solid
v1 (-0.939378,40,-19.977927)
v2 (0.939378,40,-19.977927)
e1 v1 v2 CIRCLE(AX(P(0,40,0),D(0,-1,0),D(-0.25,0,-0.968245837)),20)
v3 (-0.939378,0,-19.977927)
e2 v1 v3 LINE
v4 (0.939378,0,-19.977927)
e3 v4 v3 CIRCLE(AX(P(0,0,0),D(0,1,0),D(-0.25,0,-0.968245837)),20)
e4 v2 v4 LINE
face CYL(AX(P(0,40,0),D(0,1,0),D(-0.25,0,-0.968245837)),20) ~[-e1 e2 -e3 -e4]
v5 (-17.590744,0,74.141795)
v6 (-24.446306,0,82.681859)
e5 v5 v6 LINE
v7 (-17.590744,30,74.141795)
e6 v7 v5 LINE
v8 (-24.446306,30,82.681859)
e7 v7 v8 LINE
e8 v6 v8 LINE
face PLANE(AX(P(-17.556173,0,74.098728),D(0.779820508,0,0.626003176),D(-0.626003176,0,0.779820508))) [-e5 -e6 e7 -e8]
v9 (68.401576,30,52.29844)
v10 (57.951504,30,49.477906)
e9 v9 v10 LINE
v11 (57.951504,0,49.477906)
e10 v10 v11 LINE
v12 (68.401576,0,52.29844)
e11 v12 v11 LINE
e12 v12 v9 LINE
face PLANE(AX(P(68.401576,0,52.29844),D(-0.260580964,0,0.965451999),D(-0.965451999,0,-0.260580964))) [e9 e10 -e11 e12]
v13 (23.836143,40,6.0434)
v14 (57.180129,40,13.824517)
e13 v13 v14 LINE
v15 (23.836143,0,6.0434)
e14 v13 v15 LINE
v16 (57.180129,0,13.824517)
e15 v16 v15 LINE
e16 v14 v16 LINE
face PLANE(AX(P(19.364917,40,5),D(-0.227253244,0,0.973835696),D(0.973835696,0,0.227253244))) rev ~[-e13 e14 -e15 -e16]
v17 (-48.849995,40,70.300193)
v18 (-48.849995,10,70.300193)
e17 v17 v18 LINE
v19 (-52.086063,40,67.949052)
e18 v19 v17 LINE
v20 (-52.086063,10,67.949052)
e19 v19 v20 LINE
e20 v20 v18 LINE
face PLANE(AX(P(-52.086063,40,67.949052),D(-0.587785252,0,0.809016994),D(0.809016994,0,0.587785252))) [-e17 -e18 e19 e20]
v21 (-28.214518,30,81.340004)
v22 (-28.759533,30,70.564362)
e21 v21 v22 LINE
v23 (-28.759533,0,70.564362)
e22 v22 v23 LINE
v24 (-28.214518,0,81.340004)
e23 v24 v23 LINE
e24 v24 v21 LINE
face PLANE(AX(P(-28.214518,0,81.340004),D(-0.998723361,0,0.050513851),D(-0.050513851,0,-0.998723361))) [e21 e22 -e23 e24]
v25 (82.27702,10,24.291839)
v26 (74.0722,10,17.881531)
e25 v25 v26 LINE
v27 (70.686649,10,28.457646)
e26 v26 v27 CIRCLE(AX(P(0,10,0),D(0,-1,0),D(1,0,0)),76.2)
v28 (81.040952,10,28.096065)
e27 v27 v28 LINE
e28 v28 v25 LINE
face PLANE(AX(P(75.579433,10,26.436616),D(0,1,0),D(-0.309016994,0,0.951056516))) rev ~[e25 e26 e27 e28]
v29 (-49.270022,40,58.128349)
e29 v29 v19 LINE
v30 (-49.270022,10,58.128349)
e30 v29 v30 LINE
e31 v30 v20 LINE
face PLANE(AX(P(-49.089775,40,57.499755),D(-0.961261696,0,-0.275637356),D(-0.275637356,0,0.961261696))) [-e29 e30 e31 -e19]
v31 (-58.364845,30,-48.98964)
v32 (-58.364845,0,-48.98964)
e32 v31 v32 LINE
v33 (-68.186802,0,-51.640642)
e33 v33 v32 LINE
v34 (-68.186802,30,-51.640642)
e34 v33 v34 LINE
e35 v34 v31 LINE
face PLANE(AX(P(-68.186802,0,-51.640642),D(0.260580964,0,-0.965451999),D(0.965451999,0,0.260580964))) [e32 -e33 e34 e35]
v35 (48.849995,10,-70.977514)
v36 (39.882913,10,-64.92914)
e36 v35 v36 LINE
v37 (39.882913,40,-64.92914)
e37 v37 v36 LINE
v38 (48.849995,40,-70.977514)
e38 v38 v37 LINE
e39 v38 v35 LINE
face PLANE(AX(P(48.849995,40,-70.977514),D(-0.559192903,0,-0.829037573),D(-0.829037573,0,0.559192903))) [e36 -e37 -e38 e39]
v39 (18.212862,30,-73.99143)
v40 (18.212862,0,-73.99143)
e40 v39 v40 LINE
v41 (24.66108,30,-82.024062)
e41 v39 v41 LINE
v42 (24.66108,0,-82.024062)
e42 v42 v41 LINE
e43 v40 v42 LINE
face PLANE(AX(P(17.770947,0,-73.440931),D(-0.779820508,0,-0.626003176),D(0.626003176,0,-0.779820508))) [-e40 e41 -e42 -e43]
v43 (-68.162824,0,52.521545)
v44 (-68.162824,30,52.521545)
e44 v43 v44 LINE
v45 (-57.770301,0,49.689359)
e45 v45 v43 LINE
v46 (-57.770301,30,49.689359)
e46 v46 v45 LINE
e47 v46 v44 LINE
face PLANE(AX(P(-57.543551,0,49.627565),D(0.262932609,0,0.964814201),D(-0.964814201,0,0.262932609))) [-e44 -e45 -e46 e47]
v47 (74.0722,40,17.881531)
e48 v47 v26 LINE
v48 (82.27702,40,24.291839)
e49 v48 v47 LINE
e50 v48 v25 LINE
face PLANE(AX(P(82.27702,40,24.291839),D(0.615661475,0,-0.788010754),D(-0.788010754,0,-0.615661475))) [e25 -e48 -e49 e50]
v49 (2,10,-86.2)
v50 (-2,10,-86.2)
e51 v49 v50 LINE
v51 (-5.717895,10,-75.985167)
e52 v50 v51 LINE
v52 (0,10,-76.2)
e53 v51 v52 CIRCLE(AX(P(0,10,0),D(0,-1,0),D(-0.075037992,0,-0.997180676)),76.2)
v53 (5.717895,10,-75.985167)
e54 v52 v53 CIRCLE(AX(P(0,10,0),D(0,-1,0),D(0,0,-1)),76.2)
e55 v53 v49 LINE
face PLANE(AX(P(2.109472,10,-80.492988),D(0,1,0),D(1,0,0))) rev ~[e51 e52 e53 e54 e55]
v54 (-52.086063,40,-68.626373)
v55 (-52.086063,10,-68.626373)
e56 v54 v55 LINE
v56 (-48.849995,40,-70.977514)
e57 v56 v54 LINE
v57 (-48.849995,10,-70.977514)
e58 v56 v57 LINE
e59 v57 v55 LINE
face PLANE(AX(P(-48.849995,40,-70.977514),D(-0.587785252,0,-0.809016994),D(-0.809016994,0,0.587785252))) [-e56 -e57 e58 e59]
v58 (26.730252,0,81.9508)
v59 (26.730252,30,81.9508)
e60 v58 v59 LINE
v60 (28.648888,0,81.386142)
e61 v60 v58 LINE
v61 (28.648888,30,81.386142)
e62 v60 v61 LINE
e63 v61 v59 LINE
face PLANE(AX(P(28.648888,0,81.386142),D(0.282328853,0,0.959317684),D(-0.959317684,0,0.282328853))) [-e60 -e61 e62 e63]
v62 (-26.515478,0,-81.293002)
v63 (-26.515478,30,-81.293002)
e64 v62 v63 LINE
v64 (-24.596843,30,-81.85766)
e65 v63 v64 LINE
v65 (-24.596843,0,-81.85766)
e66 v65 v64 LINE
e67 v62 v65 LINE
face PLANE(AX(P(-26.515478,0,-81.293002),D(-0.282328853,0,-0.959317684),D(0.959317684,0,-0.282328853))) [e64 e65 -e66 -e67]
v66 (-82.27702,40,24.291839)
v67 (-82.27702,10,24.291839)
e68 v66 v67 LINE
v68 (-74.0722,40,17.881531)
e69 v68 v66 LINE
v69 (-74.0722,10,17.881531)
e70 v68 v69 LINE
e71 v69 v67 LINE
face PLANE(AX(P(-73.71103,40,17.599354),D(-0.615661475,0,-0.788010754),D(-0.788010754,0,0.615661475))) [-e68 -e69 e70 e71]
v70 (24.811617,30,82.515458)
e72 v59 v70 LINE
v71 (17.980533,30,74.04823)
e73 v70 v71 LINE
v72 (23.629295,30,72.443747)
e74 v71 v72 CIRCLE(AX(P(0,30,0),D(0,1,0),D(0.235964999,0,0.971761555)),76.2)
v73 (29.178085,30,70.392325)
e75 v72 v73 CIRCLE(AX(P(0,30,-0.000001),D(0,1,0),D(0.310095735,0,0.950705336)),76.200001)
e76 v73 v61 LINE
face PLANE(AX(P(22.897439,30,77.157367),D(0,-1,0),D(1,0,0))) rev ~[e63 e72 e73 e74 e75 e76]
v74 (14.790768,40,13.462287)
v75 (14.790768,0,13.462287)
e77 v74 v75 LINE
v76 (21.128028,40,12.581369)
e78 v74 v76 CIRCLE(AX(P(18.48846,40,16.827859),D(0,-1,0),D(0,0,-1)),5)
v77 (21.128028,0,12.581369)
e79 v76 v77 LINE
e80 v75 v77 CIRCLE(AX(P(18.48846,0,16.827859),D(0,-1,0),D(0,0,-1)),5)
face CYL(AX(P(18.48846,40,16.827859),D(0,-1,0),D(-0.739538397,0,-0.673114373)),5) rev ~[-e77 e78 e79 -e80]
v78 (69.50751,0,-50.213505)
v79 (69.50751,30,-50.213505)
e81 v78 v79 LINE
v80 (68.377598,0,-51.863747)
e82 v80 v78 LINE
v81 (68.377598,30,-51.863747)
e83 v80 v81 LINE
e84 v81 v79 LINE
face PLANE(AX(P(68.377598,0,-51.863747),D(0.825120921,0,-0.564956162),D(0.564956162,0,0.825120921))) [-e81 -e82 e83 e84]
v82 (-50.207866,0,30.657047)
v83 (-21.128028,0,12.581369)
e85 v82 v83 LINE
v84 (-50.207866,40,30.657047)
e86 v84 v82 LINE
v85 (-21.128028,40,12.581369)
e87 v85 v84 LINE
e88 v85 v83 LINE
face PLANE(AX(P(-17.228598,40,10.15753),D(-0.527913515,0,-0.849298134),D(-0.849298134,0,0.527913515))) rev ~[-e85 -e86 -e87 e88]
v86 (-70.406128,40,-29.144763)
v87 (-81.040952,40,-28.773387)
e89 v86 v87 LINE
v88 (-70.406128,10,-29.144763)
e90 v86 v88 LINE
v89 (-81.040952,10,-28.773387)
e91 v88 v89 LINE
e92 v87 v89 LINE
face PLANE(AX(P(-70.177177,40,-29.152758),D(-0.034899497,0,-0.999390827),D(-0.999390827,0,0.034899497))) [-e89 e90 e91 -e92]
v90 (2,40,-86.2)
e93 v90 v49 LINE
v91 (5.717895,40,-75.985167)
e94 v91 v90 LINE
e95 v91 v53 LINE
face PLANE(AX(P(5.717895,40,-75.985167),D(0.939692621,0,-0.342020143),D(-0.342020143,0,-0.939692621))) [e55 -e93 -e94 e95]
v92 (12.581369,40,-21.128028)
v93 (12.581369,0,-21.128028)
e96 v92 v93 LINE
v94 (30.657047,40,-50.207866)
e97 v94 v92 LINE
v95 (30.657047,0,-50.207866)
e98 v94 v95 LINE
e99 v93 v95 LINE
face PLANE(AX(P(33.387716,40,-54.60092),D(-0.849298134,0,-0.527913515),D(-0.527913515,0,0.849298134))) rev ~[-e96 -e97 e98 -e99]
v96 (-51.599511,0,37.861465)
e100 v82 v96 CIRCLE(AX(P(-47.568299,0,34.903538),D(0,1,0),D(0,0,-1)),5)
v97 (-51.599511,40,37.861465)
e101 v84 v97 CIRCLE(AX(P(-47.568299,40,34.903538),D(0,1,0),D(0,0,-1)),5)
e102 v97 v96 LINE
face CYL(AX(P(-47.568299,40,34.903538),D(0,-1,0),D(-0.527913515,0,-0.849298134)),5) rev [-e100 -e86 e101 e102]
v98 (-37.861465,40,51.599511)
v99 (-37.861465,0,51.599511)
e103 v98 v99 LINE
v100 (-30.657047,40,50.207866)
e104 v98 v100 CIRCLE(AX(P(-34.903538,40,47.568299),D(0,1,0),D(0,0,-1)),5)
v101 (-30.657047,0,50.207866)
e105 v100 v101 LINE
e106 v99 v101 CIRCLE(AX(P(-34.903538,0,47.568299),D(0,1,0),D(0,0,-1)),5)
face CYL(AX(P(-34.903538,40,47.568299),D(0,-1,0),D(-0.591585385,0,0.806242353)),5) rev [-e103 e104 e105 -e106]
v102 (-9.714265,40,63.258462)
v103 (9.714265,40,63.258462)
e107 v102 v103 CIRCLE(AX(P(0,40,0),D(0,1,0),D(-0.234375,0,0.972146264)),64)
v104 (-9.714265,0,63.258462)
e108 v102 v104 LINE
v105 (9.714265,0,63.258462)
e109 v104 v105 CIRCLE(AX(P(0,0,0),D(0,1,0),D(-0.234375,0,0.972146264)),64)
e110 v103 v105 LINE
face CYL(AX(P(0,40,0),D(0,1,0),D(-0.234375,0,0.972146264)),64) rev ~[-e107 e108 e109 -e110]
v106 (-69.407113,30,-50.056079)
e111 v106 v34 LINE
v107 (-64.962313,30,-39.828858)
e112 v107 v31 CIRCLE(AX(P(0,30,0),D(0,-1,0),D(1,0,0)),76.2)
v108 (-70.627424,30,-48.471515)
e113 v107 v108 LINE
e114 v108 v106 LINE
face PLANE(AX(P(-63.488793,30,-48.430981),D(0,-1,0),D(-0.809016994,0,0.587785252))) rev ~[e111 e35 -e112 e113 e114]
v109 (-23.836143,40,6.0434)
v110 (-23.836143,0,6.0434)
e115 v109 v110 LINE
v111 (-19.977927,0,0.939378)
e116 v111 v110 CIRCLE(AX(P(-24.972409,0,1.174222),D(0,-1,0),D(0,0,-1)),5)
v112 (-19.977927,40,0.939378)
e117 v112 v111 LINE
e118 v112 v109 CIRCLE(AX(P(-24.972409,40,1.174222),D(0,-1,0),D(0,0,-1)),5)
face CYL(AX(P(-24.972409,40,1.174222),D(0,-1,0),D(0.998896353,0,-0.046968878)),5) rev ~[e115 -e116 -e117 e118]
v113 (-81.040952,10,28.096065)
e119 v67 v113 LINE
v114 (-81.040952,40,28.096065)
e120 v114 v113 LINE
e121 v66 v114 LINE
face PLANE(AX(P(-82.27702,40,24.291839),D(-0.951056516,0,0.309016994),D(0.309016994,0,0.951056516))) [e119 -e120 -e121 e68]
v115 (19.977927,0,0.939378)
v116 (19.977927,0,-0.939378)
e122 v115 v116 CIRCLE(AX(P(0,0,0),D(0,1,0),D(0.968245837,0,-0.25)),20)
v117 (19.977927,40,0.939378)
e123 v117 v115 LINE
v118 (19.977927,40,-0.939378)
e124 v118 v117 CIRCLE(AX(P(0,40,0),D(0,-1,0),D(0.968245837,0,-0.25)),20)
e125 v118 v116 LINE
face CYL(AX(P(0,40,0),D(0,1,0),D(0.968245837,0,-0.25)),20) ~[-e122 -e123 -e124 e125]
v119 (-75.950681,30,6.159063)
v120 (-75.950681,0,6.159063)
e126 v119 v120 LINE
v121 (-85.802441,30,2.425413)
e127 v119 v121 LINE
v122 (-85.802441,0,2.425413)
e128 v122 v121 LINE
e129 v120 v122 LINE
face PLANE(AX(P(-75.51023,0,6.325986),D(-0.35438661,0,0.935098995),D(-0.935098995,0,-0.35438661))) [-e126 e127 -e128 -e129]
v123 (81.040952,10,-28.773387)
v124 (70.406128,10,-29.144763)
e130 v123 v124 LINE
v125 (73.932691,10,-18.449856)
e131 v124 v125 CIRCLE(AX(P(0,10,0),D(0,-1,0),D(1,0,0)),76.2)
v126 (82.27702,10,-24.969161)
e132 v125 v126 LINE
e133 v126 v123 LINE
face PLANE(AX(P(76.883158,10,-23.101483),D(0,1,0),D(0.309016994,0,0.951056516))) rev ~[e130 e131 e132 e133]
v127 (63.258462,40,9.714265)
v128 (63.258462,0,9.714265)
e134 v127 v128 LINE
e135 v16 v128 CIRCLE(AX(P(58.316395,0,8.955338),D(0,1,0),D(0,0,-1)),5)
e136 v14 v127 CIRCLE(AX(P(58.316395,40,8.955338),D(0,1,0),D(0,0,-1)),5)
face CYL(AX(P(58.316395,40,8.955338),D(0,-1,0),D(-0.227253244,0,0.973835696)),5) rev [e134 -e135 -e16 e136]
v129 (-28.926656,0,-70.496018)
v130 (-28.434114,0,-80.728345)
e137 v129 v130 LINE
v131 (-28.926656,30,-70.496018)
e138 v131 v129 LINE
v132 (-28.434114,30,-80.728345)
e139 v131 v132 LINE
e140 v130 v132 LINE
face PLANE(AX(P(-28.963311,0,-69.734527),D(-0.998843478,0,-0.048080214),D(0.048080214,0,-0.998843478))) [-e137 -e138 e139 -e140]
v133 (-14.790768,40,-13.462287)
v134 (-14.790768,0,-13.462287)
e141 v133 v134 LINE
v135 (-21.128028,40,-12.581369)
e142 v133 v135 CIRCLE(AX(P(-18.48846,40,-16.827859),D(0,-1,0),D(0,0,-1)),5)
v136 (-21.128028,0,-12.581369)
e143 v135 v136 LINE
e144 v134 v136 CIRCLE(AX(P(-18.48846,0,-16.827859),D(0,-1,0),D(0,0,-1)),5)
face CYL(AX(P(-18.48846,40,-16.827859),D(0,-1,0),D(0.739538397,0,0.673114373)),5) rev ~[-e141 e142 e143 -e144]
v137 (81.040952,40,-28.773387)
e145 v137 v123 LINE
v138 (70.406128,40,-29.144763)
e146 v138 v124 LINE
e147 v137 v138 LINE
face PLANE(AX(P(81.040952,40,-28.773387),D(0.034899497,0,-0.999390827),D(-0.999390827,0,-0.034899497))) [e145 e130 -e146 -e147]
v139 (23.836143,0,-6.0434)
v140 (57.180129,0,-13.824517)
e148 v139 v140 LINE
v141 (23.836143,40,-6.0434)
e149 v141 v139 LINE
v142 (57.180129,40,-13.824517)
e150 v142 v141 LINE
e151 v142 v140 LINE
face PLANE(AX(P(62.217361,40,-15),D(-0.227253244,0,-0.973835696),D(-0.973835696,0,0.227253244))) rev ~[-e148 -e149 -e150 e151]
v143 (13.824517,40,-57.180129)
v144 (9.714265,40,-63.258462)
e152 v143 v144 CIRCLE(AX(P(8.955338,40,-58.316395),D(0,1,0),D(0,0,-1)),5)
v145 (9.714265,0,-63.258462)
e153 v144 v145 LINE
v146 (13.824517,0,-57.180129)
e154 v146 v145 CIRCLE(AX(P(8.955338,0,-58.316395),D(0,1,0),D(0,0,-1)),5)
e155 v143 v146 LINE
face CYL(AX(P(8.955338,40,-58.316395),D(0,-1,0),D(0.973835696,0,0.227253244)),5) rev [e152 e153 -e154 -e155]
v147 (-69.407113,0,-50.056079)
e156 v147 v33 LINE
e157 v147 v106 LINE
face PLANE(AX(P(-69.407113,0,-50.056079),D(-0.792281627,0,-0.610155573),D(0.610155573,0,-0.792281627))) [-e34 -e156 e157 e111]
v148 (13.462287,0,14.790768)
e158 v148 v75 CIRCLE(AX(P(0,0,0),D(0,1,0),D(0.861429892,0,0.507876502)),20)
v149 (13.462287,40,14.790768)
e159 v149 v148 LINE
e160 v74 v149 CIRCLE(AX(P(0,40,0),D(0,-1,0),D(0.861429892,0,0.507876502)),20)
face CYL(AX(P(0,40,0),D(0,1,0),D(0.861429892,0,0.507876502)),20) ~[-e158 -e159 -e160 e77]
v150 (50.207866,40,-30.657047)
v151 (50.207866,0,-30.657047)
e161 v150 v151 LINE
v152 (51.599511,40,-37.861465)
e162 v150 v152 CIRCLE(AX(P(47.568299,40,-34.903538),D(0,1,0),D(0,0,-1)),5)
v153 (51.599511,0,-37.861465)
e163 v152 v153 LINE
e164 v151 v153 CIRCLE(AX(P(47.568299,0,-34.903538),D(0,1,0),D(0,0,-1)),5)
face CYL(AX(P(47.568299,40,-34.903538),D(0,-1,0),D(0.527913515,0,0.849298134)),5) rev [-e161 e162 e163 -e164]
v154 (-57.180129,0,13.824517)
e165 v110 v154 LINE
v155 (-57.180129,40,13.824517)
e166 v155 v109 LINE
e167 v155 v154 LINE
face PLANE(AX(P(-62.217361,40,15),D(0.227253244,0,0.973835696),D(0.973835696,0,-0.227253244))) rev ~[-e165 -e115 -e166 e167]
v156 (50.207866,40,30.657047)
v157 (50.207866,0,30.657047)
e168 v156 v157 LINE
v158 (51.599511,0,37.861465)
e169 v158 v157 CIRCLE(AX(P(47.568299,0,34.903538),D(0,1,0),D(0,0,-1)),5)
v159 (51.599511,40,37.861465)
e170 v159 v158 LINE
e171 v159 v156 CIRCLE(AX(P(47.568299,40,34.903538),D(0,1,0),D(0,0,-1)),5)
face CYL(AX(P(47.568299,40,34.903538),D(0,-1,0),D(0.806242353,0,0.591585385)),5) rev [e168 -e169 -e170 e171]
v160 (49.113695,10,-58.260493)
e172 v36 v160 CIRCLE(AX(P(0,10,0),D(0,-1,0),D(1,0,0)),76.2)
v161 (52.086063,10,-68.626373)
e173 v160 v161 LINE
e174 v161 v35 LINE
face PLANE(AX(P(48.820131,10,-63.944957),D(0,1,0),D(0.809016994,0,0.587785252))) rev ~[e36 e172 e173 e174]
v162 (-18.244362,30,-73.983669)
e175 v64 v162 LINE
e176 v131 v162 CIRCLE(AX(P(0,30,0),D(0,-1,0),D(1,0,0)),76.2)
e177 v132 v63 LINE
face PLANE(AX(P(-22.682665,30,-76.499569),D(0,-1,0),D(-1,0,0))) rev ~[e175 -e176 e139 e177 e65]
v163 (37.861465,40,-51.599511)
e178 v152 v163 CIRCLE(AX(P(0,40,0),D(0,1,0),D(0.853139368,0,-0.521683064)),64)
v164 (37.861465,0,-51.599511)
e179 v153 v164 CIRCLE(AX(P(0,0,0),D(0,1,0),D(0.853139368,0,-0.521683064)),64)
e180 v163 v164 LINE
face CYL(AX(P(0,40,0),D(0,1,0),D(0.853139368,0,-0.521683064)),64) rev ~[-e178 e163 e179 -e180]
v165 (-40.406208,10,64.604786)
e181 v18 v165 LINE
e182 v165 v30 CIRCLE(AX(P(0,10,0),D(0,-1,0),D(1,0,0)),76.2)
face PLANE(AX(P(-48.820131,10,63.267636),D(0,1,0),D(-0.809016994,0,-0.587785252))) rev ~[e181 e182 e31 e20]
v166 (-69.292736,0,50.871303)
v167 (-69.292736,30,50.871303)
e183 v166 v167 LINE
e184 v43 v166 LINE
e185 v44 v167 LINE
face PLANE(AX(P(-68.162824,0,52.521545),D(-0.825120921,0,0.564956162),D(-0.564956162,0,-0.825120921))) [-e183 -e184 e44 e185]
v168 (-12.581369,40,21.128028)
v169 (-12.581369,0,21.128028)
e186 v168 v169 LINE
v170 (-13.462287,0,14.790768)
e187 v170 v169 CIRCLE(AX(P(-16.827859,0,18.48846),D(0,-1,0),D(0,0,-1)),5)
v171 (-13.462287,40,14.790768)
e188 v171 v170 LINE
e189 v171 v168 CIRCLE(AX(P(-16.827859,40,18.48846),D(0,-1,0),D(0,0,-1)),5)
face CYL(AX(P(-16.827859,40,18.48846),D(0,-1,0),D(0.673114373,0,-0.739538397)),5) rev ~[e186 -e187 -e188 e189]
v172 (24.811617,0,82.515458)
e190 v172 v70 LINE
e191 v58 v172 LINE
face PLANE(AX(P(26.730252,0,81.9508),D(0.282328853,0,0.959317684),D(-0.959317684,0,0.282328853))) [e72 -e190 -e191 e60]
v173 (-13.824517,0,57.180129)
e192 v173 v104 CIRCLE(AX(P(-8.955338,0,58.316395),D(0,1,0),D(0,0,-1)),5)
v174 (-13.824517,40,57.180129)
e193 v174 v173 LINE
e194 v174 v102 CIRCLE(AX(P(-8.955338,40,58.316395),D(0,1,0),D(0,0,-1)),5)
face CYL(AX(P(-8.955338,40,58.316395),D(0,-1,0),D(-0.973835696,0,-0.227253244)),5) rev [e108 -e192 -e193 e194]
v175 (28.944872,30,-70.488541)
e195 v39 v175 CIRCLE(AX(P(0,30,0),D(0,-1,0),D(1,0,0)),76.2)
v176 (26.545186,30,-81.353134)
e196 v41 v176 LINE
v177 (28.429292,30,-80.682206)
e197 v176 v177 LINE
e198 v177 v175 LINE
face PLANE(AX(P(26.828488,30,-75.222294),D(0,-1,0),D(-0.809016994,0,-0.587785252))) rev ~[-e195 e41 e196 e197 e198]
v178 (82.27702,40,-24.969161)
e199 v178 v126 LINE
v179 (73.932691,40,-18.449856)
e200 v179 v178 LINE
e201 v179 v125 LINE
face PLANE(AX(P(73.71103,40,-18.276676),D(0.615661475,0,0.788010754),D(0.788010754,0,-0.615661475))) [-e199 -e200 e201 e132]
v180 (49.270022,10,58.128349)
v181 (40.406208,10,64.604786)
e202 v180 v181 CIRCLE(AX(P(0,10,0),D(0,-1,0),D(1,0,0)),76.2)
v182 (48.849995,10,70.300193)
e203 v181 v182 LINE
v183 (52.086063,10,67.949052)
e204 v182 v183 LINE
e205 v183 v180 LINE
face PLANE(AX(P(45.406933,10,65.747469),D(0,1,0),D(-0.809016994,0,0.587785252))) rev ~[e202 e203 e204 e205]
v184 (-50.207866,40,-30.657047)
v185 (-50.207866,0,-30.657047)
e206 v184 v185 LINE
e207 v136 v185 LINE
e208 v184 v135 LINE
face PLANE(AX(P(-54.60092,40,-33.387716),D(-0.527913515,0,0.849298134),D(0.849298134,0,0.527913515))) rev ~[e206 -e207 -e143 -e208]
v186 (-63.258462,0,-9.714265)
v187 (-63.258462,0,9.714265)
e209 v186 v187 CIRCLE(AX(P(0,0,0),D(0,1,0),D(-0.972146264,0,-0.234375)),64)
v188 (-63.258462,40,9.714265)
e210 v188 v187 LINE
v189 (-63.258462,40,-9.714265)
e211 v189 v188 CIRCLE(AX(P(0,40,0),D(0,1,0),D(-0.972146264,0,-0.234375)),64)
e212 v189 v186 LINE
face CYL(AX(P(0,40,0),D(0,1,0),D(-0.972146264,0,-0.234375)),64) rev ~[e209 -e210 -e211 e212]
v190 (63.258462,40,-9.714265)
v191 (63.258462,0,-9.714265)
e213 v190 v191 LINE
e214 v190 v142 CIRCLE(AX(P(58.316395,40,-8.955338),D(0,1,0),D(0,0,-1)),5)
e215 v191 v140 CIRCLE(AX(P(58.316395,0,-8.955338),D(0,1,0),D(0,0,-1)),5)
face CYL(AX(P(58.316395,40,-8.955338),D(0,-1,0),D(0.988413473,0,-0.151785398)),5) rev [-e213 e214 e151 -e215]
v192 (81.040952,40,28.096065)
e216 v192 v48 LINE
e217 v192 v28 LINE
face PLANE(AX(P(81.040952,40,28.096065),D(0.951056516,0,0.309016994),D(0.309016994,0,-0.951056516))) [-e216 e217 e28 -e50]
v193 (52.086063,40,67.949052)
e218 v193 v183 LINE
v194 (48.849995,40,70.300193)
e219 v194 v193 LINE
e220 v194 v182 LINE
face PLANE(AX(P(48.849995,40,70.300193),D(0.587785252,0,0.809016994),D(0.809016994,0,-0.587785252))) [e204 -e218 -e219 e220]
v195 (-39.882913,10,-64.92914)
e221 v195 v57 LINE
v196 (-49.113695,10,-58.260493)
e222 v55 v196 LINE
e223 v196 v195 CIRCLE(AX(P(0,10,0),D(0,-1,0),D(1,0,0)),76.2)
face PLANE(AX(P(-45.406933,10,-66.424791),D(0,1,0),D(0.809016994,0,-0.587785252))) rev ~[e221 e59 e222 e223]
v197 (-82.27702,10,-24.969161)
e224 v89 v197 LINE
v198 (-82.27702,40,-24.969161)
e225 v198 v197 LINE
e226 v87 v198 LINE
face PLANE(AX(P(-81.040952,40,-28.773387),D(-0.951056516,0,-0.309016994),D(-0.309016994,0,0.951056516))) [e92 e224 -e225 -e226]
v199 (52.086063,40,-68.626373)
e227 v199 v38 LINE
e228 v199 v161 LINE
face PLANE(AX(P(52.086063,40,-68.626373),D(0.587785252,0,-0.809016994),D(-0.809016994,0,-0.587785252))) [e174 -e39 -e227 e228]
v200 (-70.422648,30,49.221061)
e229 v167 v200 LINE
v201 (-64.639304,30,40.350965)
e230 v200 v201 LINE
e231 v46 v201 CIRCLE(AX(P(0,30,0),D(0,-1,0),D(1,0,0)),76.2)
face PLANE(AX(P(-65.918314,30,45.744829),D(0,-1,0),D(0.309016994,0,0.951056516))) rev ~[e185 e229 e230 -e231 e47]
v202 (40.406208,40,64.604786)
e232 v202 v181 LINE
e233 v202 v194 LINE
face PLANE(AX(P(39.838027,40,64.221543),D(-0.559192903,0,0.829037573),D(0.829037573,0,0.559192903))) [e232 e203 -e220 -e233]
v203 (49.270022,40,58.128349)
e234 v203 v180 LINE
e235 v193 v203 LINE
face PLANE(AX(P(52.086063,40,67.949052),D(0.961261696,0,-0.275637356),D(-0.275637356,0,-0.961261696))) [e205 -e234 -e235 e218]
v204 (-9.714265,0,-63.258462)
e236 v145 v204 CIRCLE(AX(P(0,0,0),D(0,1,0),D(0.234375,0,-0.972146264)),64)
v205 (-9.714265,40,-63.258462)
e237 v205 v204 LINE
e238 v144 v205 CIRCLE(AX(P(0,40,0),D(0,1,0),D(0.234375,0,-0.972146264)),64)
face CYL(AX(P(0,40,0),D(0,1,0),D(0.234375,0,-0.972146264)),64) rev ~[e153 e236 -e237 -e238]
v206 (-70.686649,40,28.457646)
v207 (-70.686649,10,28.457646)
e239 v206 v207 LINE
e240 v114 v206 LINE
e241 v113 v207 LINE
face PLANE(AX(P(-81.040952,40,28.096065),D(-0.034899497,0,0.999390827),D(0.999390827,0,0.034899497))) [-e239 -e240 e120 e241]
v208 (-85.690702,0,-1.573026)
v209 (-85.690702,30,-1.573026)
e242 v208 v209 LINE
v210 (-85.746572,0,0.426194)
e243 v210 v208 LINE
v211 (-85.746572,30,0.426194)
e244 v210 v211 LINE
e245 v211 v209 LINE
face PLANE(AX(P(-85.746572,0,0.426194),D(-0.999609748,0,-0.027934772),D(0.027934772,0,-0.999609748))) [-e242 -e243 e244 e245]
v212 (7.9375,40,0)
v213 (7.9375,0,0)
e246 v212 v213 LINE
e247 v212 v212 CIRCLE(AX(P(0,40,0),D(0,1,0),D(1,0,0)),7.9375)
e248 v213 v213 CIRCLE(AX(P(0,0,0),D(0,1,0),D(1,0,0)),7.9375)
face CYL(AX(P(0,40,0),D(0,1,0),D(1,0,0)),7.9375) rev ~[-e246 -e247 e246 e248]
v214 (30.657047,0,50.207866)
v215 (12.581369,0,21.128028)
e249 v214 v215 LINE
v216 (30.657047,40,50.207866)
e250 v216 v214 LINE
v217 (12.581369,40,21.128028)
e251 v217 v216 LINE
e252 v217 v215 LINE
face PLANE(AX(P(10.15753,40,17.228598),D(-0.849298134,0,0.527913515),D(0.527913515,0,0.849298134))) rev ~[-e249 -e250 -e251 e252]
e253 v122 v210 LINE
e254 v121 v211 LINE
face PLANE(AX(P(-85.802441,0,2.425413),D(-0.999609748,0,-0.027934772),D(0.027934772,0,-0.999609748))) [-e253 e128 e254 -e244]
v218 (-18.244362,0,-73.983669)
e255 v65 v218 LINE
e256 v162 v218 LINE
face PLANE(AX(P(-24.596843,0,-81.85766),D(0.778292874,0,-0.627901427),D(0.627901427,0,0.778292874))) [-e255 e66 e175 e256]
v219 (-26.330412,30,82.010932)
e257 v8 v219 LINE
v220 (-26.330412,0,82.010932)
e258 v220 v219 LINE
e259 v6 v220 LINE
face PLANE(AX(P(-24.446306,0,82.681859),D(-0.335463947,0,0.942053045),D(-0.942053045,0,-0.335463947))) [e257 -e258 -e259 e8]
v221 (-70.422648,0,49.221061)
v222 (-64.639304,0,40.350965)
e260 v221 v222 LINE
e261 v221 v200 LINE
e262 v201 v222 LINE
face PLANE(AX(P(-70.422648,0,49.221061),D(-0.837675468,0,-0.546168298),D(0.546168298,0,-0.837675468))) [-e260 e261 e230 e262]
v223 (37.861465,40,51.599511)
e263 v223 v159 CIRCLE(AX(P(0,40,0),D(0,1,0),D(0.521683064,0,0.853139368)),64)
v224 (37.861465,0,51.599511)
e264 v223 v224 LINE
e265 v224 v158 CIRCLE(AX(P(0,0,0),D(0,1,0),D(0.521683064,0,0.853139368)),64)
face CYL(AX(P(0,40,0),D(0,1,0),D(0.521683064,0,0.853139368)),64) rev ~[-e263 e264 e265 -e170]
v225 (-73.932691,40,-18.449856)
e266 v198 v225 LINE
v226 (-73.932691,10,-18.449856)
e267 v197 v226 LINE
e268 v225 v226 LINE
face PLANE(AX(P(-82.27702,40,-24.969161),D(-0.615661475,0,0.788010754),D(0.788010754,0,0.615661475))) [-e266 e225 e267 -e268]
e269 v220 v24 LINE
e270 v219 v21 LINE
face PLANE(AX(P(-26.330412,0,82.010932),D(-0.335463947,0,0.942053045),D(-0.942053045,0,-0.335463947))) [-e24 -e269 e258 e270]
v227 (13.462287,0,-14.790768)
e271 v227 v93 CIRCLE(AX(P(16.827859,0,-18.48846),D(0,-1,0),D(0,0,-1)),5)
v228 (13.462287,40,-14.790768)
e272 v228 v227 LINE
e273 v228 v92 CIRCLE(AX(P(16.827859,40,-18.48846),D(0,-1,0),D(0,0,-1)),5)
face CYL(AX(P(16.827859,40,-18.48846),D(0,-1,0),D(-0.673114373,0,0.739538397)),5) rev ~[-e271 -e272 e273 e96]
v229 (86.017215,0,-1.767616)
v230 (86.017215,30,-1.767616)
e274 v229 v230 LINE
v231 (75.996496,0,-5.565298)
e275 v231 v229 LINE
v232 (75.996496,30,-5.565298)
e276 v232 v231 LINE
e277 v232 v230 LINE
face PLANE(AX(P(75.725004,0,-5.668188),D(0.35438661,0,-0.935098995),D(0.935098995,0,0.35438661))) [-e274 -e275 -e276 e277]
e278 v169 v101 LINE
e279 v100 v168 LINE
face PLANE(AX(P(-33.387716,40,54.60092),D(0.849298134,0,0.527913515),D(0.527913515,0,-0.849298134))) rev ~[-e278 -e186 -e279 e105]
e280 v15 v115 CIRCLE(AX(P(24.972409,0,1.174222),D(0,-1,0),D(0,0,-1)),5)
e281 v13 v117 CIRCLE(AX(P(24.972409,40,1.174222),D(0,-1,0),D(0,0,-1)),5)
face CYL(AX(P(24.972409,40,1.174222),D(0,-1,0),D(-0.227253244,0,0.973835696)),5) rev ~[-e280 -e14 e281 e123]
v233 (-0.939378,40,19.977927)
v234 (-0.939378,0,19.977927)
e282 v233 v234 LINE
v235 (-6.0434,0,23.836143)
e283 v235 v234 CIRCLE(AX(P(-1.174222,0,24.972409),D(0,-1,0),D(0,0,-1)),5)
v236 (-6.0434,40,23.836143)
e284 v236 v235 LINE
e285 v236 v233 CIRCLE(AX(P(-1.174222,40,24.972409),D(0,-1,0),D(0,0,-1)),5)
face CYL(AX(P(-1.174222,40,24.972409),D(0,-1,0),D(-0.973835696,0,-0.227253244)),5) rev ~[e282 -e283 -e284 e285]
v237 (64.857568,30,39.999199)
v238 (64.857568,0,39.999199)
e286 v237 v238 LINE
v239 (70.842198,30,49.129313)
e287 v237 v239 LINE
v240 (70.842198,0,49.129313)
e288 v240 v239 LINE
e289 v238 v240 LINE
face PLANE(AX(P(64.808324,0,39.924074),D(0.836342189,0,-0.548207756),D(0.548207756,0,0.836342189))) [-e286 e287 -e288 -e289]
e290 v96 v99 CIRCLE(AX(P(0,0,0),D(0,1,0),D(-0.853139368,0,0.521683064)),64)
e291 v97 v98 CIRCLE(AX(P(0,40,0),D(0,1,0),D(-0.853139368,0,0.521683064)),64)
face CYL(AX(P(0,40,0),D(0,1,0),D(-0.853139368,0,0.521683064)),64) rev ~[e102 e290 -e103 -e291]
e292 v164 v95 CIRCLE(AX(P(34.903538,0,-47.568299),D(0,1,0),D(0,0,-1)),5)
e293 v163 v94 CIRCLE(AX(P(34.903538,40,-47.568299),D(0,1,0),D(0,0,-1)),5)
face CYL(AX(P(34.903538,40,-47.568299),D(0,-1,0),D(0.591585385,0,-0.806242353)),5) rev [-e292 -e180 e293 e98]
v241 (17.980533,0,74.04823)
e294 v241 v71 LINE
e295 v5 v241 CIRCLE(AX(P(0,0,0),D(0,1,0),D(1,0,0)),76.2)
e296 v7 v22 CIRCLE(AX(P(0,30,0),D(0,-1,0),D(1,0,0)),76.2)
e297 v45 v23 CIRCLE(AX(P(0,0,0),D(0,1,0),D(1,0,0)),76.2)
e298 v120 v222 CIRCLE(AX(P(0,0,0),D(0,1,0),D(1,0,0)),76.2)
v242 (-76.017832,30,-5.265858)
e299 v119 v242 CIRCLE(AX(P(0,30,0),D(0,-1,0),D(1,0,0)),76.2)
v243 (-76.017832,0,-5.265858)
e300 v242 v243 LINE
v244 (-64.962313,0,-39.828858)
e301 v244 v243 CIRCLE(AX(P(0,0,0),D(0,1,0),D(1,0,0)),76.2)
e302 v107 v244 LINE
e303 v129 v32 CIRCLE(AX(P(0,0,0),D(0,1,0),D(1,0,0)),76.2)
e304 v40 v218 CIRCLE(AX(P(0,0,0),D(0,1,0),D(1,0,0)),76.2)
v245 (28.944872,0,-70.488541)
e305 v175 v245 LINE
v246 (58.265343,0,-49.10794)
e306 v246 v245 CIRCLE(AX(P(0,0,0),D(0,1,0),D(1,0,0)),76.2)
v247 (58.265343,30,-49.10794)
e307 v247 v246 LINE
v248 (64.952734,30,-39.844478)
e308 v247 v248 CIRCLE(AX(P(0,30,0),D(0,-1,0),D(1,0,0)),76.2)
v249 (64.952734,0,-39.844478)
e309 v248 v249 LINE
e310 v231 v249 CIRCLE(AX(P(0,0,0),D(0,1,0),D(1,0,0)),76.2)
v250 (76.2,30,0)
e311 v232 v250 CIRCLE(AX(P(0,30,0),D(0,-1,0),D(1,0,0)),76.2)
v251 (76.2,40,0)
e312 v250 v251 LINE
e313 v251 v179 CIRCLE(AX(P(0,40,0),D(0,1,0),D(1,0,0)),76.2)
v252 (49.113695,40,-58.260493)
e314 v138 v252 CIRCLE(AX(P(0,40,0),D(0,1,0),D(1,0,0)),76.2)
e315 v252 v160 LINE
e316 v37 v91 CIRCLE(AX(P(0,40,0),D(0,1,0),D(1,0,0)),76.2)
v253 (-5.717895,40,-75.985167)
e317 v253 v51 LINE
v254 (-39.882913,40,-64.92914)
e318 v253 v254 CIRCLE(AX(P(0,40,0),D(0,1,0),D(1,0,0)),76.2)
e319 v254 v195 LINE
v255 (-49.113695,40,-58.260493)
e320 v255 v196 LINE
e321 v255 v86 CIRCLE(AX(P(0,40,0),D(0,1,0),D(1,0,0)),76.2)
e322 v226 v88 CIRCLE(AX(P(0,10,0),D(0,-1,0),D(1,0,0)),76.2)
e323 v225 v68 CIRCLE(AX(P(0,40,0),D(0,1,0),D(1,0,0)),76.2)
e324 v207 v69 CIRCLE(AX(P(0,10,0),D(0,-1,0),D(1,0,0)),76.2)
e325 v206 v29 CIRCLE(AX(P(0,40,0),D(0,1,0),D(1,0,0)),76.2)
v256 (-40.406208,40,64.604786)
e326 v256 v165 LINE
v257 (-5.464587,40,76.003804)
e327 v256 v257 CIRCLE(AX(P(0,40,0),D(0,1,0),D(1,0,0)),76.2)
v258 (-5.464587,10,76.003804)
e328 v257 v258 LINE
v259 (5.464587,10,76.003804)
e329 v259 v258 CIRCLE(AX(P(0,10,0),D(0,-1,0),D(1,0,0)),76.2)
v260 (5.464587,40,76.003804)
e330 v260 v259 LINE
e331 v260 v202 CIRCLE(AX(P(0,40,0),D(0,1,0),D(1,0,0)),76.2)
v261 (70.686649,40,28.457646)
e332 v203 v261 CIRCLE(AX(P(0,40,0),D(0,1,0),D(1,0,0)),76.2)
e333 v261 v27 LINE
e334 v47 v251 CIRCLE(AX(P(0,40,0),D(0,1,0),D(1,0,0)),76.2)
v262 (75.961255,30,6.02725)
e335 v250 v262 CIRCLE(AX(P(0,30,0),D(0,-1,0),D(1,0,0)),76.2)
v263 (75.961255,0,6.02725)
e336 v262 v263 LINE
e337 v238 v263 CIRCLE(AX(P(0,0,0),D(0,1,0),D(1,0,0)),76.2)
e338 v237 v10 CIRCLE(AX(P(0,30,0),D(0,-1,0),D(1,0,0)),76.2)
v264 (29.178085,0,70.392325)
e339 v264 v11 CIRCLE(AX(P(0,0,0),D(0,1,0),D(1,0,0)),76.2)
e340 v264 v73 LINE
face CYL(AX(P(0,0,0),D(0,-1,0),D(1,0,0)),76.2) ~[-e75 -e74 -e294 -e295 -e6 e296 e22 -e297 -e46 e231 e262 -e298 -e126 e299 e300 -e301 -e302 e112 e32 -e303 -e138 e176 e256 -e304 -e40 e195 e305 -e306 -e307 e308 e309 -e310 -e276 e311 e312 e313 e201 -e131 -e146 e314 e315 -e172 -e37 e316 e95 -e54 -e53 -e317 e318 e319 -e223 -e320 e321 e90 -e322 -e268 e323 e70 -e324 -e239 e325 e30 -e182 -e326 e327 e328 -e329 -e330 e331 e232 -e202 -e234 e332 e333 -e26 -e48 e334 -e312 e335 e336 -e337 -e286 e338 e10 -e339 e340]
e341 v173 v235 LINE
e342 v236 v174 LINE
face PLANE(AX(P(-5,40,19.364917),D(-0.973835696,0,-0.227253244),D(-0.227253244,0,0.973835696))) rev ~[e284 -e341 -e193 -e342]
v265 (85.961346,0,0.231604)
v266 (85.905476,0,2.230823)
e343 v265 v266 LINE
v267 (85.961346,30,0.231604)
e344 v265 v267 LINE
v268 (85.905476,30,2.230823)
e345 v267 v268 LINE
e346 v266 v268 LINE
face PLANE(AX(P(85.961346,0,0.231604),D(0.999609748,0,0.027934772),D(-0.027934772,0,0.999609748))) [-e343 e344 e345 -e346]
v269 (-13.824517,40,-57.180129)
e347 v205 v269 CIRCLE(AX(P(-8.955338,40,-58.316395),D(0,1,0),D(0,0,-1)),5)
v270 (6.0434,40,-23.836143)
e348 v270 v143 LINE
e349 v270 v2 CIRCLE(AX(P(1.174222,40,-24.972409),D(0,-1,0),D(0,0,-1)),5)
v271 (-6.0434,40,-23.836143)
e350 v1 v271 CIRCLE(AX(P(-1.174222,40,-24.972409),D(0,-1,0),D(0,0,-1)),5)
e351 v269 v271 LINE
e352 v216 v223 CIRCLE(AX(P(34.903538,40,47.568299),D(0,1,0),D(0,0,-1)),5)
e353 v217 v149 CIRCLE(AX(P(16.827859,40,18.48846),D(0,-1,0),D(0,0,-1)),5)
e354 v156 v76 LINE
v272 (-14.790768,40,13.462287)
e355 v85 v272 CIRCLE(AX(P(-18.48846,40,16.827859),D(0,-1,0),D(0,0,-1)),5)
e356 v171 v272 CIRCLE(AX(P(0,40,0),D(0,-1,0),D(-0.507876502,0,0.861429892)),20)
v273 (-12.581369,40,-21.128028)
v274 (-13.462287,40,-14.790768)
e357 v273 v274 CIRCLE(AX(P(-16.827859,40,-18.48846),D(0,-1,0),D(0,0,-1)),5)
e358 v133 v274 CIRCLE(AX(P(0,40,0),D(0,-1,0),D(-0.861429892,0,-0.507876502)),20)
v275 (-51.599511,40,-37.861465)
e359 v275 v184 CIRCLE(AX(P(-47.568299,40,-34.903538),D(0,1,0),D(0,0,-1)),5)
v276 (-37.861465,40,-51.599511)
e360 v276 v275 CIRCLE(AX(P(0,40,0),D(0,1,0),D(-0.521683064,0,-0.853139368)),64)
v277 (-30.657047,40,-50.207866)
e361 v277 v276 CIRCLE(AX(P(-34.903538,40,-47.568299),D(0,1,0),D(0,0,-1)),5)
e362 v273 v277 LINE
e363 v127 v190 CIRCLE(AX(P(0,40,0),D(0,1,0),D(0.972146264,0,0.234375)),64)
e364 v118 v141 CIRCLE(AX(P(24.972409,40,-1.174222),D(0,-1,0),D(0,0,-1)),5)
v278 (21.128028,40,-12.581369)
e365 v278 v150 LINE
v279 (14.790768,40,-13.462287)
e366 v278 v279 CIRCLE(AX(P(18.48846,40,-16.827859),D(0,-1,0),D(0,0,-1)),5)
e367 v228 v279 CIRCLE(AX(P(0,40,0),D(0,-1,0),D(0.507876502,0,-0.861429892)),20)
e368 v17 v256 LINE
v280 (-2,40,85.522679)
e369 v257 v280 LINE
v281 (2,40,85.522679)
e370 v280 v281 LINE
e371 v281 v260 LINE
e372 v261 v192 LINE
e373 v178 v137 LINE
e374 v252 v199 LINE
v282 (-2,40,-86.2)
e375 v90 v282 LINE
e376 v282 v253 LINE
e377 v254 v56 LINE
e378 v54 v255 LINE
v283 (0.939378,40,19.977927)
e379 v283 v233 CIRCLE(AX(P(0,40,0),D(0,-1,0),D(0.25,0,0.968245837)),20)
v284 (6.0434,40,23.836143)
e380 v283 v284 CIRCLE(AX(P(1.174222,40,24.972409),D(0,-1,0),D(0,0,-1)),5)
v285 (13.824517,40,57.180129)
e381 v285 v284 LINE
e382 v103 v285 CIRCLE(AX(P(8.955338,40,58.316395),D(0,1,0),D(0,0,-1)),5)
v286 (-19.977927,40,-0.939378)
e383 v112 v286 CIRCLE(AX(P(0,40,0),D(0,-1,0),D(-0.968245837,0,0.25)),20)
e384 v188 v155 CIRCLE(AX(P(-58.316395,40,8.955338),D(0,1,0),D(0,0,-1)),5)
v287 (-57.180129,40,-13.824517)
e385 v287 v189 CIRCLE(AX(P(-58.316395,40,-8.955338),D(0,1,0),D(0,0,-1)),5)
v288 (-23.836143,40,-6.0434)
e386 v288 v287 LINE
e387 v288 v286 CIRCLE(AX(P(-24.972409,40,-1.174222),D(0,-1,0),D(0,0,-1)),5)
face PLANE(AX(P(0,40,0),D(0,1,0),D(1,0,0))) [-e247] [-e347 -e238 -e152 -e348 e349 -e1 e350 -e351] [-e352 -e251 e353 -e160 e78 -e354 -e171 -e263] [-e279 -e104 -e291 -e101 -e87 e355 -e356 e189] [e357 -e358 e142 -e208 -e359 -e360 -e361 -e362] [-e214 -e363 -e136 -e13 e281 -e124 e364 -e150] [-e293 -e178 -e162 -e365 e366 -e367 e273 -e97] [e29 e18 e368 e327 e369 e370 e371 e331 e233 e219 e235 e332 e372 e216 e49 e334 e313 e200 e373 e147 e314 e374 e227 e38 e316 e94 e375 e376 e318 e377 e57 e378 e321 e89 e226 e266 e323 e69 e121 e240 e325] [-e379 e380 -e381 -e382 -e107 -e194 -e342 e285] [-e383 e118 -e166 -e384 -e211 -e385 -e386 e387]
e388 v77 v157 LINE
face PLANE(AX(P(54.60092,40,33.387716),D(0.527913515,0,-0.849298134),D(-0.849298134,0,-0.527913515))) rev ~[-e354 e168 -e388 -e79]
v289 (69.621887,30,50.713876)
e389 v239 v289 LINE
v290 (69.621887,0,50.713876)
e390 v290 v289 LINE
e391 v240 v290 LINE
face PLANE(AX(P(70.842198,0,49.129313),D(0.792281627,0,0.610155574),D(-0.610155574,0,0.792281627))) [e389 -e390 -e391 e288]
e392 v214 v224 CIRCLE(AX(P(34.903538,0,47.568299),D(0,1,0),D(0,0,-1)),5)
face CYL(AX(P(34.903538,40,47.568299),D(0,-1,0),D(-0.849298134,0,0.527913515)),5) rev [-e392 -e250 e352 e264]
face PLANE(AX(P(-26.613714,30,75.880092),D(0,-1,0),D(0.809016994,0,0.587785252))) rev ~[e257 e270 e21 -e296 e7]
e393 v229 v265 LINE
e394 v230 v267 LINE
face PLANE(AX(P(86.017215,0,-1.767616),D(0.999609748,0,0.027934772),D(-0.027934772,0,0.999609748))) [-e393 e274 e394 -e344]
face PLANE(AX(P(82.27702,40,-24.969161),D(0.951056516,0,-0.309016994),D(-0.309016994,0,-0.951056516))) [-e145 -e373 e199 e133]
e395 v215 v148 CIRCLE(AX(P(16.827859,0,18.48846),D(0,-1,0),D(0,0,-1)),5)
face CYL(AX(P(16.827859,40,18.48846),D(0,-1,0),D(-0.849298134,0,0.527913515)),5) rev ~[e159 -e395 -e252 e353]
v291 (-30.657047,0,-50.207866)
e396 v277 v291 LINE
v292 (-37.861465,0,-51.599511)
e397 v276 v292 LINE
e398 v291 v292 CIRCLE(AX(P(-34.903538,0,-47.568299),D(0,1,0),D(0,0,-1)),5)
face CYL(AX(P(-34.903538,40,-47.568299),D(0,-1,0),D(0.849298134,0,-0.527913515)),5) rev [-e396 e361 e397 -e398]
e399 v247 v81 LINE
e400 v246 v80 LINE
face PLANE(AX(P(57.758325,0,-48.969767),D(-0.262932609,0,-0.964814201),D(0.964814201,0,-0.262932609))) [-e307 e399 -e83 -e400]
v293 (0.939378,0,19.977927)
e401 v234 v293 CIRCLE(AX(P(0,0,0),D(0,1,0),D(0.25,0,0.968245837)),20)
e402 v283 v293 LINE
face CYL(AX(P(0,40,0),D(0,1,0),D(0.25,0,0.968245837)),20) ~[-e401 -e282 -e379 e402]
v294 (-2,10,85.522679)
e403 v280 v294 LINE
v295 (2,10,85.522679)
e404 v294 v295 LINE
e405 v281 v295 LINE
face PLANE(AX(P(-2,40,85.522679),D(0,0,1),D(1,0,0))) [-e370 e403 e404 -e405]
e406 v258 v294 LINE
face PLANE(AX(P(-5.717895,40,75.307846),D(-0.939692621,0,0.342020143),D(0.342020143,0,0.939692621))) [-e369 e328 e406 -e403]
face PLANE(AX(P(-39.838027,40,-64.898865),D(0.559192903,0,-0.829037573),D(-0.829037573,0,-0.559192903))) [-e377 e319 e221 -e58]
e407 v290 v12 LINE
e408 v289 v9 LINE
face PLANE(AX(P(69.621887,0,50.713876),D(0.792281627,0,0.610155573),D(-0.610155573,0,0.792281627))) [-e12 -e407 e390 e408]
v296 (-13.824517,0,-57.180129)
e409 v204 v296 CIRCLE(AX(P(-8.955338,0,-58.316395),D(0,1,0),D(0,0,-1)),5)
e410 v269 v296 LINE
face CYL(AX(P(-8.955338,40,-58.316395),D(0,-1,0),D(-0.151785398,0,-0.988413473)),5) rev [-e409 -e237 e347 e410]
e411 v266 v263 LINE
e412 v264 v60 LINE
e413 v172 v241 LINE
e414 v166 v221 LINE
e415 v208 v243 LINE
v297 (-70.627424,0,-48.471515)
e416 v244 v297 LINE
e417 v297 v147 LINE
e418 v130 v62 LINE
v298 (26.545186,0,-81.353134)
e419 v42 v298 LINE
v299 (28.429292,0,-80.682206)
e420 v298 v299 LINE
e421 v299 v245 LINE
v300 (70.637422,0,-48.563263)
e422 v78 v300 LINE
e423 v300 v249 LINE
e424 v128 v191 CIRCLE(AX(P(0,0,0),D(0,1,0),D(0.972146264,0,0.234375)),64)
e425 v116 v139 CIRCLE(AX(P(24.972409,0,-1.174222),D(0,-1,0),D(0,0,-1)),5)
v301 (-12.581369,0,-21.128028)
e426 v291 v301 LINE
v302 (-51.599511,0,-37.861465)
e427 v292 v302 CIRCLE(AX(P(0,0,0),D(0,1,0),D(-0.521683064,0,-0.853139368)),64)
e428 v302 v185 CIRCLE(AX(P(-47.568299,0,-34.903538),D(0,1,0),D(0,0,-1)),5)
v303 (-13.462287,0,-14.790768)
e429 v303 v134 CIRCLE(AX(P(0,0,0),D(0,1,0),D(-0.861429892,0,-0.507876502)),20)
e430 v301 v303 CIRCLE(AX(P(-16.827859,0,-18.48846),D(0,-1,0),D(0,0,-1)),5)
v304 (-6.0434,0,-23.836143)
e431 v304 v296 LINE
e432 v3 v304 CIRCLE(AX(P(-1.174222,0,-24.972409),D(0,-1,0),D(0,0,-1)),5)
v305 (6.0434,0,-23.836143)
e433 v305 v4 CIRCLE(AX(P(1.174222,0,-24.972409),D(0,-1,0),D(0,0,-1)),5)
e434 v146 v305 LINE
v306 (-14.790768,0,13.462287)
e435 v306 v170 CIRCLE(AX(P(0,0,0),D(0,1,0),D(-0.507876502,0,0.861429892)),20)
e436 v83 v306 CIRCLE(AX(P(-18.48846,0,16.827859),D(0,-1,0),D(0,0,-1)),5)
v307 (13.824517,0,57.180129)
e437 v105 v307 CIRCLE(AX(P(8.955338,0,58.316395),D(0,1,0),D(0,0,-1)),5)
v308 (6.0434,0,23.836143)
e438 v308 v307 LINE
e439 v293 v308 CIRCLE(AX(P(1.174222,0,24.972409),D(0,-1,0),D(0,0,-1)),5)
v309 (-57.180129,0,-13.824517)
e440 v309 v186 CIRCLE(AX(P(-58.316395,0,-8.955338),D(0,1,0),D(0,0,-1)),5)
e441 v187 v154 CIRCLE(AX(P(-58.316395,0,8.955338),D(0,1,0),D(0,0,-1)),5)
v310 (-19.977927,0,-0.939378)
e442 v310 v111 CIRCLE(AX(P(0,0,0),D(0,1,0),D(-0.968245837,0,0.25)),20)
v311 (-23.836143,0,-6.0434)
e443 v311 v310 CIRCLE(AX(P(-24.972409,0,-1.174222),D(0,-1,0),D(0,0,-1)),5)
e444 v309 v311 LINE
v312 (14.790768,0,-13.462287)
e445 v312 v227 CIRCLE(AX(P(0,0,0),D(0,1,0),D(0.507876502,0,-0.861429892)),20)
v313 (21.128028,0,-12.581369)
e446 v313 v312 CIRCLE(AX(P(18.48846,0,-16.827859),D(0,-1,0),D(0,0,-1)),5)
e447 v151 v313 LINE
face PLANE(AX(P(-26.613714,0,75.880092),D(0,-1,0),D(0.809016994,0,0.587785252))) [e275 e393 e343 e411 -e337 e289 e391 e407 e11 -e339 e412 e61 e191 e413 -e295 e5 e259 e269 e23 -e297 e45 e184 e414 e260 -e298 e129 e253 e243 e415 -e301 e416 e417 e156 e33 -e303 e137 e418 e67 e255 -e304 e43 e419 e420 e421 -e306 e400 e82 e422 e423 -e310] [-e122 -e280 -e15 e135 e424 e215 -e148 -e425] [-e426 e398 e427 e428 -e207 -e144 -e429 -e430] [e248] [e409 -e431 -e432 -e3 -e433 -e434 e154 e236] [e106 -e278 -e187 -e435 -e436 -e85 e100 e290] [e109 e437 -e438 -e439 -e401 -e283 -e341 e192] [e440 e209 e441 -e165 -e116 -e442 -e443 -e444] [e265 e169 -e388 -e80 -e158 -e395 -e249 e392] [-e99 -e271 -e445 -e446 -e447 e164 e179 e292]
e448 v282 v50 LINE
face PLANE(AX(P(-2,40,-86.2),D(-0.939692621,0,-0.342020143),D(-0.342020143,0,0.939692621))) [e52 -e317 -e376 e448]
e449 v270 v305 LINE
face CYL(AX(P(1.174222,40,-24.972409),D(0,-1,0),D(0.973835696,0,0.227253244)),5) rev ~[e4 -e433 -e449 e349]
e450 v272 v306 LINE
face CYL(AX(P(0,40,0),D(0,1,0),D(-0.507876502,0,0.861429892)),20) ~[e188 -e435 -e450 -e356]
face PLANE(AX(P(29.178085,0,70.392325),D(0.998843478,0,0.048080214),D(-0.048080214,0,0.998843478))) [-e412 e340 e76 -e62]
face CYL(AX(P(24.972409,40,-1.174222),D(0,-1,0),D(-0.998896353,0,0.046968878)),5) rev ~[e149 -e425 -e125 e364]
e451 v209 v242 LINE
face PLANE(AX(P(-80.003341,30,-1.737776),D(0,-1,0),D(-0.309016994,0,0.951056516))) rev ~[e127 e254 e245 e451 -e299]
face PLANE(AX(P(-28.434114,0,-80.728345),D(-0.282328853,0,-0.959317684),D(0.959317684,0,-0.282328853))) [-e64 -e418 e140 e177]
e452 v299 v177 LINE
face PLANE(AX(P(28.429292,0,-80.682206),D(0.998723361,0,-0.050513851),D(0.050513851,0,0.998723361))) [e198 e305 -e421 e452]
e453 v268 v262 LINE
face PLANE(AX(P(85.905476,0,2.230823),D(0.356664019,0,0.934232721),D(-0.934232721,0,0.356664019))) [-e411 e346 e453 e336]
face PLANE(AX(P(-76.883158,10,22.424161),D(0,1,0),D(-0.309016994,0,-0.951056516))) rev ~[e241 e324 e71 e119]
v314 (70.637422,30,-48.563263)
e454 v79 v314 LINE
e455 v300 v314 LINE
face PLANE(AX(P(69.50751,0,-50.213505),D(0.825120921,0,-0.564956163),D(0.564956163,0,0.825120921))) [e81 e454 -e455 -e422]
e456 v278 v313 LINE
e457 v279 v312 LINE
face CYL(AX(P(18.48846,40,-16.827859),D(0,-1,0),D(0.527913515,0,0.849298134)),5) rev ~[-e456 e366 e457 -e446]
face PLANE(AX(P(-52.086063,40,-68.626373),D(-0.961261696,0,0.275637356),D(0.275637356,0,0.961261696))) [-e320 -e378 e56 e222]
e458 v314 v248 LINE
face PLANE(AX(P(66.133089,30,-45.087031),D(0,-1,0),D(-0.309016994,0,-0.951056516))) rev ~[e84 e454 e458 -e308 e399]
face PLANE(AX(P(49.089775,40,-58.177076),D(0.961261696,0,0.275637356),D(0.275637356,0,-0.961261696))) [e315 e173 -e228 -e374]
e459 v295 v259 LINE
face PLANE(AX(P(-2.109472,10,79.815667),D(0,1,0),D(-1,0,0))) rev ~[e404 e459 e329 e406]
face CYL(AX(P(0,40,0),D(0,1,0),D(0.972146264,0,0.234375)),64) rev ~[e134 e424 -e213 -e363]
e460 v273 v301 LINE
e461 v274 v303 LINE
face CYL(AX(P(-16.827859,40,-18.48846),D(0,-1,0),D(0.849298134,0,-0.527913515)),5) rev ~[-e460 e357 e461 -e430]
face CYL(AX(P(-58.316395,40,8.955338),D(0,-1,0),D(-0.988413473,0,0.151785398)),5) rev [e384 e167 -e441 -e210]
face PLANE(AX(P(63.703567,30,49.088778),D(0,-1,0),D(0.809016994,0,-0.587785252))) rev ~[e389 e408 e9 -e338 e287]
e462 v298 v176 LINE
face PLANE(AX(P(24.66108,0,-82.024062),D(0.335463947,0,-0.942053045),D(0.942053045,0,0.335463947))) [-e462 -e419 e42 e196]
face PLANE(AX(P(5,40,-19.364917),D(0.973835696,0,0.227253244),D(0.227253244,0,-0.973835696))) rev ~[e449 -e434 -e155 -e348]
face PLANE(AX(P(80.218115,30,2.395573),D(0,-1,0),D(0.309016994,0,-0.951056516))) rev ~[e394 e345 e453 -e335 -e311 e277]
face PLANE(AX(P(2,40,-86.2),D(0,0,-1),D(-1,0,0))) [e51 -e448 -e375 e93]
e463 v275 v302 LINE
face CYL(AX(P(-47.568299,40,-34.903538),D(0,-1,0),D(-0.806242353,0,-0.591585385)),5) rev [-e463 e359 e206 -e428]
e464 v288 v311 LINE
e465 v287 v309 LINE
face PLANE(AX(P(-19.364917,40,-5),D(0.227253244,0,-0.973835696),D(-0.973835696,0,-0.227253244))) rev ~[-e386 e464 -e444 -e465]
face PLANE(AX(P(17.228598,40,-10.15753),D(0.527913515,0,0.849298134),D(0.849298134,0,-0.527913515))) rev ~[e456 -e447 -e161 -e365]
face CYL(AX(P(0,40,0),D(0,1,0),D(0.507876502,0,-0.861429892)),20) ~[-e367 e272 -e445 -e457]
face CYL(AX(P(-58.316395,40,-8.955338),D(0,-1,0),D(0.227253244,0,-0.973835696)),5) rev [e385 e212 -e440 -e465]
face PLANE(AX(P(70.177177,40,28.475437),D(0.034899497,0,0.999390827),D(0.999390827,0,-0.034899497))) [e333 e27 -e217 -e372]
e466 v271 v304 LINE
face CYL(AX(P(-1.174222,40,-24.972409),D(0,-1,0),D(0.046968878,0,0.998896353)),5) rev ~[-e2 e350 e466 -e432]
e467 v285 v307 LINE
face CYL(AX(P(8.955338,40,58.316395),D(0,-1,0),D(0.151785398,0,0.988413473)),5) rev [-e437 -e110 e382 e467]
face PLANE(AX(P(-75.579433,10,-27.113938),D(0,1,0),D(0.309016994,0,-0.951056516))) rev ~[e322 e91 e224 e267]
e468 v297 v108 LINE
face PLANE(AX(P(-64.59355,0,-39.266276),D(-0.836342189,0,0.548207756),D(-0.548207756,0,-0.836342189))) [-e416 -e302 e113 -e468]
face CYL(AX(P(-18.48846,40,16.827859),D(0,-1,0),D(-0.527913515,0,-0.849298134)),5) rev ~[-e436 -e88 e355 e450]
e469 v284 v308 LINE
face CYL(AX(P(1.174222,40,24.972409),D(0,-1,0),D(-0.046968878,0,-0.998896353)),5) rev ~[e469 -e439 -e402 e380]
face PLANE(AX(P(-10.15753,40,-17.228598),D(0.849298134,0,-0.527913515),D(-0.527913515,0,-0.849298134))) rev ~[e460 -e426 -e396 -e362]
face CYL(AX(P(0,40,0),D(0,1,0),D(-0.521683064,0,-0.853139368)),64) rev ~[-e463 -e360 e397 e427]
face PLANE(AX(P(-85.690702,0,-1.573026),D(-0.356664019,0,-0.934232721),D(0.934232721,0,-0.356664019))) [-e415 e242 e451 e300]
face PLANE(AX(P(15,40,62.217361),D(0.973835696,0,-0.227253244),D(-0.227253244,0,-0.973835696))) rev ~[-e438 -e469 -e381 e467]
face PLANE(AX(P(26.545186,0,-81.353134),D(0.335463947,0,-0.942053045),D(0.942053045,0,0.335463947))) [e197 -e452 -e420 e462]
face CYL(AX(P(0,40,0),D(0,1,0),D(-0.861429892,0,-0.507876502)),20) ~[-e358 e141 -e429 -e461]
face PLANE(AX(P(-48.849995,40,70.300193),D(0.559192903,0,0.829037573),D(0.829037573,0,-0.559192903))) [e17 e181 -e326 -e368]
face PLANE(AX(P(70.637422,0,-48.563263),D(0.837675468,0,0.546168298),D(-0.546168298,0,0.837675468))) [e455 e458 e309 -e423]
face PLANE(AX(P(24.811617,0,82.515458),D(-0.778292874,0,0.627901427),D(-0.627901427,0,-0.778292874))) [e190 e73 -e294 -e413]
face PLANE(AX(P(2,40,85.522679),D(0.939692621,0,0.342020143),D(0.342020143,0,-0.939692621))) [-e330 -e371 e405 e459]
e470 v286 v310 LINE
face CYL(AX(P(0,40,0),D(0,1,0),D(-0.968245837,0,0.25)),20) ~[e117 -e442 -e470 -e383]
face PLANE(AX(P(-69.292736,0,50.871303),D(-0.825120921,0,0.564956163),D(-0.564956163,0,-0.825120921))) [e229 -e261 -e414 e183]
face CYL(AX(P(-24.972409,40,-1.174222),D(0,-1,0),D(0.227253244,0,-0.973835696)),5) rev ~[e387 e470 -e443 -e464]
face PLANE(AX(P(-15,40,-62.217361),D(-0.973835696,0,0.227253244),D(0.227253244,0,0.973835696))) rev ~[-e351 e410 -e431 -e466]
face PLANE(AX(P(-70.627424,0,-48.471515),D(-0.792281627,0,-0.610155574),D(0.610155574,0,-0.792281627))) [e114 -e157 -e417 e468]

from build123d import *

# Parameters (mm, degrees)
SKETCH1_R           = 76.2
BOSS_EXTRUDE1_DEPTH = 40
BOSS_EXTRUDE2_DEPTH = 30
CIRPATTERN1_COUNT   = 10
BOSS_EXTRUDE3_DEPTH = 30
CIRPATTERN2_COUNT   = 10
SKETCH4_R           = 7.9375
CUT_EXTRUDE1_DEPTH  = 41
CUT_EXTRUDE2_DEPTH  = 41
CIRPATTERN3_COUNT   = 8
FILLET4_R           = 5
FILLET5_R           = 5


with BuildPart() as part:
    # Sketch1 → Boss-Extrude1 (new body)
    with BuildSketch(Plane(origin=(0, 0, 0), x_dir=(1, 0, 0), z_dir=(0, 1, 0))):
        Circle(SKETCH1_R)
    extrude(amount=BOSS_EXTRUDE1_DEPTH)

    # Sketch2 → Boss-Extrude2 (add)
    with BuildSketch(Plane(origin=(0, 40, 0), x_dir=(1, 0, 0), z_dir=(0, 1, 0))):
        with BuildLine():
            Line((0, 86.2), (0, 76.2))
            ThreePointArc((0, 76.2), (2.860964701, 76.146272929), (5.717894985, 75.98516748))
            Line((5.717894985, 75.98516748), (2, 86.2))
            Line((2, 86.2), (0, 86.2))
        make_face()
        with BuildLine():
            ThreePointArc((-5.717894985, 75.98516748), (-2.860964701, 76.146272929), (0, 76.2))
            Line((0, 76.2), (0, 86.2))
            Line((0, 86.2), (-2, 86.2))
            Line((-2, 86.2), (-5.717894985, 75.98516748))
        make_face()
    boss_extrude2 = extrude(amount=-BOSS_EXTRUDE2_DEPTH)

    # CirPattern1: Boss-Extrude2 ×10 about axis
    cirpattern1_axis = Axis((0, 0, -0.338660651), (0, 1, 0))
    for i in range(1, CIRPATTERN1_COUNT):
        add(boss_extrude2.rotate(cirpattern1_axis, i * 360 / CIRPATTERN1_COUNT))

    # Sketch3 → Boss-Extrude3 (add)
    with BuildSketch(Plane.XZ):
        with BuildLine():
            Line((24.811616962, 82.515457643), (17.980532935, 74.048230468))
            ThreePointArc((17.980532935, 74.048230468), (20.820375524, 73.300422666), (23.629294983, 72.44374658))
            Line((23.629294983, 72.44374658), (26.73025233, 81.950799937))
            Line((26.73025233, 81.950799937), (24.811616962, 82.515457643))
        make_face()
        with BuildLine():
            Line((26.73025233, 81.950799937), (23.629294983, 72.44374658))
            ThreePointArc((23.629294983, 72.44374658), (26.423605423, 71.471904105), (29.178084826, 70.392324624))
            Line((29.178084826, 70.392324624), (28.648887698, 81.386142232))
            Line((28.648887698, 81.386142232), (26.73025233, 81.950799937))
        make_face()
    boss_extrude3 = extrude(amount=-BOSS_EXTRUDE3_DEPTH)

    # CirPattern2: Boss-Extrude3 ×10 about axis
    cirpattern2_axis = Axis((0.107387074, 0, 0.328898849), (0, 1, 0))
    for i in range(1, CIRPATTERN2_COUNT):
        add(boss_extrude3.rotate(cirpattern2_axis, i * 360 / CIRPATTERN2_COUNT))

    # Sketch4 → Cut-Extrude1 (cut, through all)
    with BuildSketch(Plane(origin=(0, 40, 0), x_dir=(1, 0, 0), z_dir=(0, 1, 0))):
        Circle(SKETCH4_R)
    extrude(amount=-CUT_EXTRUDE1_DEPTH, mode=Mode.SUBTRACT)

    # Sketch5 → Cut-Extrude2 (cut, through all)
    with BuildSketch(Plane(origin=(0, 40, 0), x_dir=(1, 0, 0), z_dir=(0, 1, 0))):
        with BuildLine():
            ThreePointArc((15, 62.217360921), (0, 64), (-15, 62.217360921))
            Line((-15, 62.217360921), (-5, 19.364916731))
            ThreePointArc((-5, 19.364916731), (0, 20), (5, 19.364916731))
            Line((5, 19.364916731), (15, 62.217360921))
        make_face()
    cut_extrude2 = extrude(amount=-CUT_EXTRUDE2_DEPTH, mode=Mode.SUBTRACT)

    # CirPattern3: Cut-Extrude2 ×8 about axis
    cirpattern3_axis = Axis((0, 0, 0), (0, 1, 0))
    for i in range(1, CIRPATTERN3_COUNT):
        add(cut_extrude2.rotate(cirpattern3_axis, i * 360 / CIRPATTERN3_COUNT), mode=Mode.SUBTRACT)

    # Fillet4
    fillet4_edges = [part.edges().sort_by_distance(p)[0] for p in [
        (5, 20, -19.364916731),
        (-5, 20, -19.364916731),
        (15, 20, -62.217360921),
        (-5, 20, 19.364916731),
        (5, 20, 19.364916731),
        (-15, 20, 62.217360921),
        (10.157530032, 20, 17.228597844),
        (17.228597844, 20, 10.157530032),
        (33.387716097, 20, 54.600919533),
        (-19.364916731, 20, -5),
        (-19.364916731, 20, 5),
        (-62.217360921, 20, -15),
        (-17.228597844, 20, 10.157530032),
        (-10.157530032, 20, 17.228597844),
        (-54.600919533, 20, 33.387716097),
        (17.228597844, 20, -10.157530032),
        (10.157530032, 20, -17.228597844),
        (54.600919533, 20, -33.387716097),
        (19.364916731, 20, 5),
        (19.364916731, 20, -5),
        (62.217360921, 20, 15),
        (-10.157530032, 20, -17.228597844),
        (-17.228597844, 20, -10.157530032),
        (-33.387716097, 20, -54.600919533),
    ]]
    fillet(fillet4_edges, radius=FILLET4_R)

    # Fillet5
    fillet5_edges = [part.edges().sort_by_distance(p)[0] for p in [
        (-15, 20, -62.217360921),
        (15, 20, 62.217360921),
        (54.600919533, 20, 33.387716097),
        (-62.217360921, 20, 15),
        (-33.387716097, 20, 54.600919533),
        (33.387716097, 20, -54.600919533),
        (62.217360921, 20, -15),
        (-54.600919533, 20, -33.387716097),
    ]]
    fillet(fillet5_edges, radius=FILLET5_R)


solid = part.part
